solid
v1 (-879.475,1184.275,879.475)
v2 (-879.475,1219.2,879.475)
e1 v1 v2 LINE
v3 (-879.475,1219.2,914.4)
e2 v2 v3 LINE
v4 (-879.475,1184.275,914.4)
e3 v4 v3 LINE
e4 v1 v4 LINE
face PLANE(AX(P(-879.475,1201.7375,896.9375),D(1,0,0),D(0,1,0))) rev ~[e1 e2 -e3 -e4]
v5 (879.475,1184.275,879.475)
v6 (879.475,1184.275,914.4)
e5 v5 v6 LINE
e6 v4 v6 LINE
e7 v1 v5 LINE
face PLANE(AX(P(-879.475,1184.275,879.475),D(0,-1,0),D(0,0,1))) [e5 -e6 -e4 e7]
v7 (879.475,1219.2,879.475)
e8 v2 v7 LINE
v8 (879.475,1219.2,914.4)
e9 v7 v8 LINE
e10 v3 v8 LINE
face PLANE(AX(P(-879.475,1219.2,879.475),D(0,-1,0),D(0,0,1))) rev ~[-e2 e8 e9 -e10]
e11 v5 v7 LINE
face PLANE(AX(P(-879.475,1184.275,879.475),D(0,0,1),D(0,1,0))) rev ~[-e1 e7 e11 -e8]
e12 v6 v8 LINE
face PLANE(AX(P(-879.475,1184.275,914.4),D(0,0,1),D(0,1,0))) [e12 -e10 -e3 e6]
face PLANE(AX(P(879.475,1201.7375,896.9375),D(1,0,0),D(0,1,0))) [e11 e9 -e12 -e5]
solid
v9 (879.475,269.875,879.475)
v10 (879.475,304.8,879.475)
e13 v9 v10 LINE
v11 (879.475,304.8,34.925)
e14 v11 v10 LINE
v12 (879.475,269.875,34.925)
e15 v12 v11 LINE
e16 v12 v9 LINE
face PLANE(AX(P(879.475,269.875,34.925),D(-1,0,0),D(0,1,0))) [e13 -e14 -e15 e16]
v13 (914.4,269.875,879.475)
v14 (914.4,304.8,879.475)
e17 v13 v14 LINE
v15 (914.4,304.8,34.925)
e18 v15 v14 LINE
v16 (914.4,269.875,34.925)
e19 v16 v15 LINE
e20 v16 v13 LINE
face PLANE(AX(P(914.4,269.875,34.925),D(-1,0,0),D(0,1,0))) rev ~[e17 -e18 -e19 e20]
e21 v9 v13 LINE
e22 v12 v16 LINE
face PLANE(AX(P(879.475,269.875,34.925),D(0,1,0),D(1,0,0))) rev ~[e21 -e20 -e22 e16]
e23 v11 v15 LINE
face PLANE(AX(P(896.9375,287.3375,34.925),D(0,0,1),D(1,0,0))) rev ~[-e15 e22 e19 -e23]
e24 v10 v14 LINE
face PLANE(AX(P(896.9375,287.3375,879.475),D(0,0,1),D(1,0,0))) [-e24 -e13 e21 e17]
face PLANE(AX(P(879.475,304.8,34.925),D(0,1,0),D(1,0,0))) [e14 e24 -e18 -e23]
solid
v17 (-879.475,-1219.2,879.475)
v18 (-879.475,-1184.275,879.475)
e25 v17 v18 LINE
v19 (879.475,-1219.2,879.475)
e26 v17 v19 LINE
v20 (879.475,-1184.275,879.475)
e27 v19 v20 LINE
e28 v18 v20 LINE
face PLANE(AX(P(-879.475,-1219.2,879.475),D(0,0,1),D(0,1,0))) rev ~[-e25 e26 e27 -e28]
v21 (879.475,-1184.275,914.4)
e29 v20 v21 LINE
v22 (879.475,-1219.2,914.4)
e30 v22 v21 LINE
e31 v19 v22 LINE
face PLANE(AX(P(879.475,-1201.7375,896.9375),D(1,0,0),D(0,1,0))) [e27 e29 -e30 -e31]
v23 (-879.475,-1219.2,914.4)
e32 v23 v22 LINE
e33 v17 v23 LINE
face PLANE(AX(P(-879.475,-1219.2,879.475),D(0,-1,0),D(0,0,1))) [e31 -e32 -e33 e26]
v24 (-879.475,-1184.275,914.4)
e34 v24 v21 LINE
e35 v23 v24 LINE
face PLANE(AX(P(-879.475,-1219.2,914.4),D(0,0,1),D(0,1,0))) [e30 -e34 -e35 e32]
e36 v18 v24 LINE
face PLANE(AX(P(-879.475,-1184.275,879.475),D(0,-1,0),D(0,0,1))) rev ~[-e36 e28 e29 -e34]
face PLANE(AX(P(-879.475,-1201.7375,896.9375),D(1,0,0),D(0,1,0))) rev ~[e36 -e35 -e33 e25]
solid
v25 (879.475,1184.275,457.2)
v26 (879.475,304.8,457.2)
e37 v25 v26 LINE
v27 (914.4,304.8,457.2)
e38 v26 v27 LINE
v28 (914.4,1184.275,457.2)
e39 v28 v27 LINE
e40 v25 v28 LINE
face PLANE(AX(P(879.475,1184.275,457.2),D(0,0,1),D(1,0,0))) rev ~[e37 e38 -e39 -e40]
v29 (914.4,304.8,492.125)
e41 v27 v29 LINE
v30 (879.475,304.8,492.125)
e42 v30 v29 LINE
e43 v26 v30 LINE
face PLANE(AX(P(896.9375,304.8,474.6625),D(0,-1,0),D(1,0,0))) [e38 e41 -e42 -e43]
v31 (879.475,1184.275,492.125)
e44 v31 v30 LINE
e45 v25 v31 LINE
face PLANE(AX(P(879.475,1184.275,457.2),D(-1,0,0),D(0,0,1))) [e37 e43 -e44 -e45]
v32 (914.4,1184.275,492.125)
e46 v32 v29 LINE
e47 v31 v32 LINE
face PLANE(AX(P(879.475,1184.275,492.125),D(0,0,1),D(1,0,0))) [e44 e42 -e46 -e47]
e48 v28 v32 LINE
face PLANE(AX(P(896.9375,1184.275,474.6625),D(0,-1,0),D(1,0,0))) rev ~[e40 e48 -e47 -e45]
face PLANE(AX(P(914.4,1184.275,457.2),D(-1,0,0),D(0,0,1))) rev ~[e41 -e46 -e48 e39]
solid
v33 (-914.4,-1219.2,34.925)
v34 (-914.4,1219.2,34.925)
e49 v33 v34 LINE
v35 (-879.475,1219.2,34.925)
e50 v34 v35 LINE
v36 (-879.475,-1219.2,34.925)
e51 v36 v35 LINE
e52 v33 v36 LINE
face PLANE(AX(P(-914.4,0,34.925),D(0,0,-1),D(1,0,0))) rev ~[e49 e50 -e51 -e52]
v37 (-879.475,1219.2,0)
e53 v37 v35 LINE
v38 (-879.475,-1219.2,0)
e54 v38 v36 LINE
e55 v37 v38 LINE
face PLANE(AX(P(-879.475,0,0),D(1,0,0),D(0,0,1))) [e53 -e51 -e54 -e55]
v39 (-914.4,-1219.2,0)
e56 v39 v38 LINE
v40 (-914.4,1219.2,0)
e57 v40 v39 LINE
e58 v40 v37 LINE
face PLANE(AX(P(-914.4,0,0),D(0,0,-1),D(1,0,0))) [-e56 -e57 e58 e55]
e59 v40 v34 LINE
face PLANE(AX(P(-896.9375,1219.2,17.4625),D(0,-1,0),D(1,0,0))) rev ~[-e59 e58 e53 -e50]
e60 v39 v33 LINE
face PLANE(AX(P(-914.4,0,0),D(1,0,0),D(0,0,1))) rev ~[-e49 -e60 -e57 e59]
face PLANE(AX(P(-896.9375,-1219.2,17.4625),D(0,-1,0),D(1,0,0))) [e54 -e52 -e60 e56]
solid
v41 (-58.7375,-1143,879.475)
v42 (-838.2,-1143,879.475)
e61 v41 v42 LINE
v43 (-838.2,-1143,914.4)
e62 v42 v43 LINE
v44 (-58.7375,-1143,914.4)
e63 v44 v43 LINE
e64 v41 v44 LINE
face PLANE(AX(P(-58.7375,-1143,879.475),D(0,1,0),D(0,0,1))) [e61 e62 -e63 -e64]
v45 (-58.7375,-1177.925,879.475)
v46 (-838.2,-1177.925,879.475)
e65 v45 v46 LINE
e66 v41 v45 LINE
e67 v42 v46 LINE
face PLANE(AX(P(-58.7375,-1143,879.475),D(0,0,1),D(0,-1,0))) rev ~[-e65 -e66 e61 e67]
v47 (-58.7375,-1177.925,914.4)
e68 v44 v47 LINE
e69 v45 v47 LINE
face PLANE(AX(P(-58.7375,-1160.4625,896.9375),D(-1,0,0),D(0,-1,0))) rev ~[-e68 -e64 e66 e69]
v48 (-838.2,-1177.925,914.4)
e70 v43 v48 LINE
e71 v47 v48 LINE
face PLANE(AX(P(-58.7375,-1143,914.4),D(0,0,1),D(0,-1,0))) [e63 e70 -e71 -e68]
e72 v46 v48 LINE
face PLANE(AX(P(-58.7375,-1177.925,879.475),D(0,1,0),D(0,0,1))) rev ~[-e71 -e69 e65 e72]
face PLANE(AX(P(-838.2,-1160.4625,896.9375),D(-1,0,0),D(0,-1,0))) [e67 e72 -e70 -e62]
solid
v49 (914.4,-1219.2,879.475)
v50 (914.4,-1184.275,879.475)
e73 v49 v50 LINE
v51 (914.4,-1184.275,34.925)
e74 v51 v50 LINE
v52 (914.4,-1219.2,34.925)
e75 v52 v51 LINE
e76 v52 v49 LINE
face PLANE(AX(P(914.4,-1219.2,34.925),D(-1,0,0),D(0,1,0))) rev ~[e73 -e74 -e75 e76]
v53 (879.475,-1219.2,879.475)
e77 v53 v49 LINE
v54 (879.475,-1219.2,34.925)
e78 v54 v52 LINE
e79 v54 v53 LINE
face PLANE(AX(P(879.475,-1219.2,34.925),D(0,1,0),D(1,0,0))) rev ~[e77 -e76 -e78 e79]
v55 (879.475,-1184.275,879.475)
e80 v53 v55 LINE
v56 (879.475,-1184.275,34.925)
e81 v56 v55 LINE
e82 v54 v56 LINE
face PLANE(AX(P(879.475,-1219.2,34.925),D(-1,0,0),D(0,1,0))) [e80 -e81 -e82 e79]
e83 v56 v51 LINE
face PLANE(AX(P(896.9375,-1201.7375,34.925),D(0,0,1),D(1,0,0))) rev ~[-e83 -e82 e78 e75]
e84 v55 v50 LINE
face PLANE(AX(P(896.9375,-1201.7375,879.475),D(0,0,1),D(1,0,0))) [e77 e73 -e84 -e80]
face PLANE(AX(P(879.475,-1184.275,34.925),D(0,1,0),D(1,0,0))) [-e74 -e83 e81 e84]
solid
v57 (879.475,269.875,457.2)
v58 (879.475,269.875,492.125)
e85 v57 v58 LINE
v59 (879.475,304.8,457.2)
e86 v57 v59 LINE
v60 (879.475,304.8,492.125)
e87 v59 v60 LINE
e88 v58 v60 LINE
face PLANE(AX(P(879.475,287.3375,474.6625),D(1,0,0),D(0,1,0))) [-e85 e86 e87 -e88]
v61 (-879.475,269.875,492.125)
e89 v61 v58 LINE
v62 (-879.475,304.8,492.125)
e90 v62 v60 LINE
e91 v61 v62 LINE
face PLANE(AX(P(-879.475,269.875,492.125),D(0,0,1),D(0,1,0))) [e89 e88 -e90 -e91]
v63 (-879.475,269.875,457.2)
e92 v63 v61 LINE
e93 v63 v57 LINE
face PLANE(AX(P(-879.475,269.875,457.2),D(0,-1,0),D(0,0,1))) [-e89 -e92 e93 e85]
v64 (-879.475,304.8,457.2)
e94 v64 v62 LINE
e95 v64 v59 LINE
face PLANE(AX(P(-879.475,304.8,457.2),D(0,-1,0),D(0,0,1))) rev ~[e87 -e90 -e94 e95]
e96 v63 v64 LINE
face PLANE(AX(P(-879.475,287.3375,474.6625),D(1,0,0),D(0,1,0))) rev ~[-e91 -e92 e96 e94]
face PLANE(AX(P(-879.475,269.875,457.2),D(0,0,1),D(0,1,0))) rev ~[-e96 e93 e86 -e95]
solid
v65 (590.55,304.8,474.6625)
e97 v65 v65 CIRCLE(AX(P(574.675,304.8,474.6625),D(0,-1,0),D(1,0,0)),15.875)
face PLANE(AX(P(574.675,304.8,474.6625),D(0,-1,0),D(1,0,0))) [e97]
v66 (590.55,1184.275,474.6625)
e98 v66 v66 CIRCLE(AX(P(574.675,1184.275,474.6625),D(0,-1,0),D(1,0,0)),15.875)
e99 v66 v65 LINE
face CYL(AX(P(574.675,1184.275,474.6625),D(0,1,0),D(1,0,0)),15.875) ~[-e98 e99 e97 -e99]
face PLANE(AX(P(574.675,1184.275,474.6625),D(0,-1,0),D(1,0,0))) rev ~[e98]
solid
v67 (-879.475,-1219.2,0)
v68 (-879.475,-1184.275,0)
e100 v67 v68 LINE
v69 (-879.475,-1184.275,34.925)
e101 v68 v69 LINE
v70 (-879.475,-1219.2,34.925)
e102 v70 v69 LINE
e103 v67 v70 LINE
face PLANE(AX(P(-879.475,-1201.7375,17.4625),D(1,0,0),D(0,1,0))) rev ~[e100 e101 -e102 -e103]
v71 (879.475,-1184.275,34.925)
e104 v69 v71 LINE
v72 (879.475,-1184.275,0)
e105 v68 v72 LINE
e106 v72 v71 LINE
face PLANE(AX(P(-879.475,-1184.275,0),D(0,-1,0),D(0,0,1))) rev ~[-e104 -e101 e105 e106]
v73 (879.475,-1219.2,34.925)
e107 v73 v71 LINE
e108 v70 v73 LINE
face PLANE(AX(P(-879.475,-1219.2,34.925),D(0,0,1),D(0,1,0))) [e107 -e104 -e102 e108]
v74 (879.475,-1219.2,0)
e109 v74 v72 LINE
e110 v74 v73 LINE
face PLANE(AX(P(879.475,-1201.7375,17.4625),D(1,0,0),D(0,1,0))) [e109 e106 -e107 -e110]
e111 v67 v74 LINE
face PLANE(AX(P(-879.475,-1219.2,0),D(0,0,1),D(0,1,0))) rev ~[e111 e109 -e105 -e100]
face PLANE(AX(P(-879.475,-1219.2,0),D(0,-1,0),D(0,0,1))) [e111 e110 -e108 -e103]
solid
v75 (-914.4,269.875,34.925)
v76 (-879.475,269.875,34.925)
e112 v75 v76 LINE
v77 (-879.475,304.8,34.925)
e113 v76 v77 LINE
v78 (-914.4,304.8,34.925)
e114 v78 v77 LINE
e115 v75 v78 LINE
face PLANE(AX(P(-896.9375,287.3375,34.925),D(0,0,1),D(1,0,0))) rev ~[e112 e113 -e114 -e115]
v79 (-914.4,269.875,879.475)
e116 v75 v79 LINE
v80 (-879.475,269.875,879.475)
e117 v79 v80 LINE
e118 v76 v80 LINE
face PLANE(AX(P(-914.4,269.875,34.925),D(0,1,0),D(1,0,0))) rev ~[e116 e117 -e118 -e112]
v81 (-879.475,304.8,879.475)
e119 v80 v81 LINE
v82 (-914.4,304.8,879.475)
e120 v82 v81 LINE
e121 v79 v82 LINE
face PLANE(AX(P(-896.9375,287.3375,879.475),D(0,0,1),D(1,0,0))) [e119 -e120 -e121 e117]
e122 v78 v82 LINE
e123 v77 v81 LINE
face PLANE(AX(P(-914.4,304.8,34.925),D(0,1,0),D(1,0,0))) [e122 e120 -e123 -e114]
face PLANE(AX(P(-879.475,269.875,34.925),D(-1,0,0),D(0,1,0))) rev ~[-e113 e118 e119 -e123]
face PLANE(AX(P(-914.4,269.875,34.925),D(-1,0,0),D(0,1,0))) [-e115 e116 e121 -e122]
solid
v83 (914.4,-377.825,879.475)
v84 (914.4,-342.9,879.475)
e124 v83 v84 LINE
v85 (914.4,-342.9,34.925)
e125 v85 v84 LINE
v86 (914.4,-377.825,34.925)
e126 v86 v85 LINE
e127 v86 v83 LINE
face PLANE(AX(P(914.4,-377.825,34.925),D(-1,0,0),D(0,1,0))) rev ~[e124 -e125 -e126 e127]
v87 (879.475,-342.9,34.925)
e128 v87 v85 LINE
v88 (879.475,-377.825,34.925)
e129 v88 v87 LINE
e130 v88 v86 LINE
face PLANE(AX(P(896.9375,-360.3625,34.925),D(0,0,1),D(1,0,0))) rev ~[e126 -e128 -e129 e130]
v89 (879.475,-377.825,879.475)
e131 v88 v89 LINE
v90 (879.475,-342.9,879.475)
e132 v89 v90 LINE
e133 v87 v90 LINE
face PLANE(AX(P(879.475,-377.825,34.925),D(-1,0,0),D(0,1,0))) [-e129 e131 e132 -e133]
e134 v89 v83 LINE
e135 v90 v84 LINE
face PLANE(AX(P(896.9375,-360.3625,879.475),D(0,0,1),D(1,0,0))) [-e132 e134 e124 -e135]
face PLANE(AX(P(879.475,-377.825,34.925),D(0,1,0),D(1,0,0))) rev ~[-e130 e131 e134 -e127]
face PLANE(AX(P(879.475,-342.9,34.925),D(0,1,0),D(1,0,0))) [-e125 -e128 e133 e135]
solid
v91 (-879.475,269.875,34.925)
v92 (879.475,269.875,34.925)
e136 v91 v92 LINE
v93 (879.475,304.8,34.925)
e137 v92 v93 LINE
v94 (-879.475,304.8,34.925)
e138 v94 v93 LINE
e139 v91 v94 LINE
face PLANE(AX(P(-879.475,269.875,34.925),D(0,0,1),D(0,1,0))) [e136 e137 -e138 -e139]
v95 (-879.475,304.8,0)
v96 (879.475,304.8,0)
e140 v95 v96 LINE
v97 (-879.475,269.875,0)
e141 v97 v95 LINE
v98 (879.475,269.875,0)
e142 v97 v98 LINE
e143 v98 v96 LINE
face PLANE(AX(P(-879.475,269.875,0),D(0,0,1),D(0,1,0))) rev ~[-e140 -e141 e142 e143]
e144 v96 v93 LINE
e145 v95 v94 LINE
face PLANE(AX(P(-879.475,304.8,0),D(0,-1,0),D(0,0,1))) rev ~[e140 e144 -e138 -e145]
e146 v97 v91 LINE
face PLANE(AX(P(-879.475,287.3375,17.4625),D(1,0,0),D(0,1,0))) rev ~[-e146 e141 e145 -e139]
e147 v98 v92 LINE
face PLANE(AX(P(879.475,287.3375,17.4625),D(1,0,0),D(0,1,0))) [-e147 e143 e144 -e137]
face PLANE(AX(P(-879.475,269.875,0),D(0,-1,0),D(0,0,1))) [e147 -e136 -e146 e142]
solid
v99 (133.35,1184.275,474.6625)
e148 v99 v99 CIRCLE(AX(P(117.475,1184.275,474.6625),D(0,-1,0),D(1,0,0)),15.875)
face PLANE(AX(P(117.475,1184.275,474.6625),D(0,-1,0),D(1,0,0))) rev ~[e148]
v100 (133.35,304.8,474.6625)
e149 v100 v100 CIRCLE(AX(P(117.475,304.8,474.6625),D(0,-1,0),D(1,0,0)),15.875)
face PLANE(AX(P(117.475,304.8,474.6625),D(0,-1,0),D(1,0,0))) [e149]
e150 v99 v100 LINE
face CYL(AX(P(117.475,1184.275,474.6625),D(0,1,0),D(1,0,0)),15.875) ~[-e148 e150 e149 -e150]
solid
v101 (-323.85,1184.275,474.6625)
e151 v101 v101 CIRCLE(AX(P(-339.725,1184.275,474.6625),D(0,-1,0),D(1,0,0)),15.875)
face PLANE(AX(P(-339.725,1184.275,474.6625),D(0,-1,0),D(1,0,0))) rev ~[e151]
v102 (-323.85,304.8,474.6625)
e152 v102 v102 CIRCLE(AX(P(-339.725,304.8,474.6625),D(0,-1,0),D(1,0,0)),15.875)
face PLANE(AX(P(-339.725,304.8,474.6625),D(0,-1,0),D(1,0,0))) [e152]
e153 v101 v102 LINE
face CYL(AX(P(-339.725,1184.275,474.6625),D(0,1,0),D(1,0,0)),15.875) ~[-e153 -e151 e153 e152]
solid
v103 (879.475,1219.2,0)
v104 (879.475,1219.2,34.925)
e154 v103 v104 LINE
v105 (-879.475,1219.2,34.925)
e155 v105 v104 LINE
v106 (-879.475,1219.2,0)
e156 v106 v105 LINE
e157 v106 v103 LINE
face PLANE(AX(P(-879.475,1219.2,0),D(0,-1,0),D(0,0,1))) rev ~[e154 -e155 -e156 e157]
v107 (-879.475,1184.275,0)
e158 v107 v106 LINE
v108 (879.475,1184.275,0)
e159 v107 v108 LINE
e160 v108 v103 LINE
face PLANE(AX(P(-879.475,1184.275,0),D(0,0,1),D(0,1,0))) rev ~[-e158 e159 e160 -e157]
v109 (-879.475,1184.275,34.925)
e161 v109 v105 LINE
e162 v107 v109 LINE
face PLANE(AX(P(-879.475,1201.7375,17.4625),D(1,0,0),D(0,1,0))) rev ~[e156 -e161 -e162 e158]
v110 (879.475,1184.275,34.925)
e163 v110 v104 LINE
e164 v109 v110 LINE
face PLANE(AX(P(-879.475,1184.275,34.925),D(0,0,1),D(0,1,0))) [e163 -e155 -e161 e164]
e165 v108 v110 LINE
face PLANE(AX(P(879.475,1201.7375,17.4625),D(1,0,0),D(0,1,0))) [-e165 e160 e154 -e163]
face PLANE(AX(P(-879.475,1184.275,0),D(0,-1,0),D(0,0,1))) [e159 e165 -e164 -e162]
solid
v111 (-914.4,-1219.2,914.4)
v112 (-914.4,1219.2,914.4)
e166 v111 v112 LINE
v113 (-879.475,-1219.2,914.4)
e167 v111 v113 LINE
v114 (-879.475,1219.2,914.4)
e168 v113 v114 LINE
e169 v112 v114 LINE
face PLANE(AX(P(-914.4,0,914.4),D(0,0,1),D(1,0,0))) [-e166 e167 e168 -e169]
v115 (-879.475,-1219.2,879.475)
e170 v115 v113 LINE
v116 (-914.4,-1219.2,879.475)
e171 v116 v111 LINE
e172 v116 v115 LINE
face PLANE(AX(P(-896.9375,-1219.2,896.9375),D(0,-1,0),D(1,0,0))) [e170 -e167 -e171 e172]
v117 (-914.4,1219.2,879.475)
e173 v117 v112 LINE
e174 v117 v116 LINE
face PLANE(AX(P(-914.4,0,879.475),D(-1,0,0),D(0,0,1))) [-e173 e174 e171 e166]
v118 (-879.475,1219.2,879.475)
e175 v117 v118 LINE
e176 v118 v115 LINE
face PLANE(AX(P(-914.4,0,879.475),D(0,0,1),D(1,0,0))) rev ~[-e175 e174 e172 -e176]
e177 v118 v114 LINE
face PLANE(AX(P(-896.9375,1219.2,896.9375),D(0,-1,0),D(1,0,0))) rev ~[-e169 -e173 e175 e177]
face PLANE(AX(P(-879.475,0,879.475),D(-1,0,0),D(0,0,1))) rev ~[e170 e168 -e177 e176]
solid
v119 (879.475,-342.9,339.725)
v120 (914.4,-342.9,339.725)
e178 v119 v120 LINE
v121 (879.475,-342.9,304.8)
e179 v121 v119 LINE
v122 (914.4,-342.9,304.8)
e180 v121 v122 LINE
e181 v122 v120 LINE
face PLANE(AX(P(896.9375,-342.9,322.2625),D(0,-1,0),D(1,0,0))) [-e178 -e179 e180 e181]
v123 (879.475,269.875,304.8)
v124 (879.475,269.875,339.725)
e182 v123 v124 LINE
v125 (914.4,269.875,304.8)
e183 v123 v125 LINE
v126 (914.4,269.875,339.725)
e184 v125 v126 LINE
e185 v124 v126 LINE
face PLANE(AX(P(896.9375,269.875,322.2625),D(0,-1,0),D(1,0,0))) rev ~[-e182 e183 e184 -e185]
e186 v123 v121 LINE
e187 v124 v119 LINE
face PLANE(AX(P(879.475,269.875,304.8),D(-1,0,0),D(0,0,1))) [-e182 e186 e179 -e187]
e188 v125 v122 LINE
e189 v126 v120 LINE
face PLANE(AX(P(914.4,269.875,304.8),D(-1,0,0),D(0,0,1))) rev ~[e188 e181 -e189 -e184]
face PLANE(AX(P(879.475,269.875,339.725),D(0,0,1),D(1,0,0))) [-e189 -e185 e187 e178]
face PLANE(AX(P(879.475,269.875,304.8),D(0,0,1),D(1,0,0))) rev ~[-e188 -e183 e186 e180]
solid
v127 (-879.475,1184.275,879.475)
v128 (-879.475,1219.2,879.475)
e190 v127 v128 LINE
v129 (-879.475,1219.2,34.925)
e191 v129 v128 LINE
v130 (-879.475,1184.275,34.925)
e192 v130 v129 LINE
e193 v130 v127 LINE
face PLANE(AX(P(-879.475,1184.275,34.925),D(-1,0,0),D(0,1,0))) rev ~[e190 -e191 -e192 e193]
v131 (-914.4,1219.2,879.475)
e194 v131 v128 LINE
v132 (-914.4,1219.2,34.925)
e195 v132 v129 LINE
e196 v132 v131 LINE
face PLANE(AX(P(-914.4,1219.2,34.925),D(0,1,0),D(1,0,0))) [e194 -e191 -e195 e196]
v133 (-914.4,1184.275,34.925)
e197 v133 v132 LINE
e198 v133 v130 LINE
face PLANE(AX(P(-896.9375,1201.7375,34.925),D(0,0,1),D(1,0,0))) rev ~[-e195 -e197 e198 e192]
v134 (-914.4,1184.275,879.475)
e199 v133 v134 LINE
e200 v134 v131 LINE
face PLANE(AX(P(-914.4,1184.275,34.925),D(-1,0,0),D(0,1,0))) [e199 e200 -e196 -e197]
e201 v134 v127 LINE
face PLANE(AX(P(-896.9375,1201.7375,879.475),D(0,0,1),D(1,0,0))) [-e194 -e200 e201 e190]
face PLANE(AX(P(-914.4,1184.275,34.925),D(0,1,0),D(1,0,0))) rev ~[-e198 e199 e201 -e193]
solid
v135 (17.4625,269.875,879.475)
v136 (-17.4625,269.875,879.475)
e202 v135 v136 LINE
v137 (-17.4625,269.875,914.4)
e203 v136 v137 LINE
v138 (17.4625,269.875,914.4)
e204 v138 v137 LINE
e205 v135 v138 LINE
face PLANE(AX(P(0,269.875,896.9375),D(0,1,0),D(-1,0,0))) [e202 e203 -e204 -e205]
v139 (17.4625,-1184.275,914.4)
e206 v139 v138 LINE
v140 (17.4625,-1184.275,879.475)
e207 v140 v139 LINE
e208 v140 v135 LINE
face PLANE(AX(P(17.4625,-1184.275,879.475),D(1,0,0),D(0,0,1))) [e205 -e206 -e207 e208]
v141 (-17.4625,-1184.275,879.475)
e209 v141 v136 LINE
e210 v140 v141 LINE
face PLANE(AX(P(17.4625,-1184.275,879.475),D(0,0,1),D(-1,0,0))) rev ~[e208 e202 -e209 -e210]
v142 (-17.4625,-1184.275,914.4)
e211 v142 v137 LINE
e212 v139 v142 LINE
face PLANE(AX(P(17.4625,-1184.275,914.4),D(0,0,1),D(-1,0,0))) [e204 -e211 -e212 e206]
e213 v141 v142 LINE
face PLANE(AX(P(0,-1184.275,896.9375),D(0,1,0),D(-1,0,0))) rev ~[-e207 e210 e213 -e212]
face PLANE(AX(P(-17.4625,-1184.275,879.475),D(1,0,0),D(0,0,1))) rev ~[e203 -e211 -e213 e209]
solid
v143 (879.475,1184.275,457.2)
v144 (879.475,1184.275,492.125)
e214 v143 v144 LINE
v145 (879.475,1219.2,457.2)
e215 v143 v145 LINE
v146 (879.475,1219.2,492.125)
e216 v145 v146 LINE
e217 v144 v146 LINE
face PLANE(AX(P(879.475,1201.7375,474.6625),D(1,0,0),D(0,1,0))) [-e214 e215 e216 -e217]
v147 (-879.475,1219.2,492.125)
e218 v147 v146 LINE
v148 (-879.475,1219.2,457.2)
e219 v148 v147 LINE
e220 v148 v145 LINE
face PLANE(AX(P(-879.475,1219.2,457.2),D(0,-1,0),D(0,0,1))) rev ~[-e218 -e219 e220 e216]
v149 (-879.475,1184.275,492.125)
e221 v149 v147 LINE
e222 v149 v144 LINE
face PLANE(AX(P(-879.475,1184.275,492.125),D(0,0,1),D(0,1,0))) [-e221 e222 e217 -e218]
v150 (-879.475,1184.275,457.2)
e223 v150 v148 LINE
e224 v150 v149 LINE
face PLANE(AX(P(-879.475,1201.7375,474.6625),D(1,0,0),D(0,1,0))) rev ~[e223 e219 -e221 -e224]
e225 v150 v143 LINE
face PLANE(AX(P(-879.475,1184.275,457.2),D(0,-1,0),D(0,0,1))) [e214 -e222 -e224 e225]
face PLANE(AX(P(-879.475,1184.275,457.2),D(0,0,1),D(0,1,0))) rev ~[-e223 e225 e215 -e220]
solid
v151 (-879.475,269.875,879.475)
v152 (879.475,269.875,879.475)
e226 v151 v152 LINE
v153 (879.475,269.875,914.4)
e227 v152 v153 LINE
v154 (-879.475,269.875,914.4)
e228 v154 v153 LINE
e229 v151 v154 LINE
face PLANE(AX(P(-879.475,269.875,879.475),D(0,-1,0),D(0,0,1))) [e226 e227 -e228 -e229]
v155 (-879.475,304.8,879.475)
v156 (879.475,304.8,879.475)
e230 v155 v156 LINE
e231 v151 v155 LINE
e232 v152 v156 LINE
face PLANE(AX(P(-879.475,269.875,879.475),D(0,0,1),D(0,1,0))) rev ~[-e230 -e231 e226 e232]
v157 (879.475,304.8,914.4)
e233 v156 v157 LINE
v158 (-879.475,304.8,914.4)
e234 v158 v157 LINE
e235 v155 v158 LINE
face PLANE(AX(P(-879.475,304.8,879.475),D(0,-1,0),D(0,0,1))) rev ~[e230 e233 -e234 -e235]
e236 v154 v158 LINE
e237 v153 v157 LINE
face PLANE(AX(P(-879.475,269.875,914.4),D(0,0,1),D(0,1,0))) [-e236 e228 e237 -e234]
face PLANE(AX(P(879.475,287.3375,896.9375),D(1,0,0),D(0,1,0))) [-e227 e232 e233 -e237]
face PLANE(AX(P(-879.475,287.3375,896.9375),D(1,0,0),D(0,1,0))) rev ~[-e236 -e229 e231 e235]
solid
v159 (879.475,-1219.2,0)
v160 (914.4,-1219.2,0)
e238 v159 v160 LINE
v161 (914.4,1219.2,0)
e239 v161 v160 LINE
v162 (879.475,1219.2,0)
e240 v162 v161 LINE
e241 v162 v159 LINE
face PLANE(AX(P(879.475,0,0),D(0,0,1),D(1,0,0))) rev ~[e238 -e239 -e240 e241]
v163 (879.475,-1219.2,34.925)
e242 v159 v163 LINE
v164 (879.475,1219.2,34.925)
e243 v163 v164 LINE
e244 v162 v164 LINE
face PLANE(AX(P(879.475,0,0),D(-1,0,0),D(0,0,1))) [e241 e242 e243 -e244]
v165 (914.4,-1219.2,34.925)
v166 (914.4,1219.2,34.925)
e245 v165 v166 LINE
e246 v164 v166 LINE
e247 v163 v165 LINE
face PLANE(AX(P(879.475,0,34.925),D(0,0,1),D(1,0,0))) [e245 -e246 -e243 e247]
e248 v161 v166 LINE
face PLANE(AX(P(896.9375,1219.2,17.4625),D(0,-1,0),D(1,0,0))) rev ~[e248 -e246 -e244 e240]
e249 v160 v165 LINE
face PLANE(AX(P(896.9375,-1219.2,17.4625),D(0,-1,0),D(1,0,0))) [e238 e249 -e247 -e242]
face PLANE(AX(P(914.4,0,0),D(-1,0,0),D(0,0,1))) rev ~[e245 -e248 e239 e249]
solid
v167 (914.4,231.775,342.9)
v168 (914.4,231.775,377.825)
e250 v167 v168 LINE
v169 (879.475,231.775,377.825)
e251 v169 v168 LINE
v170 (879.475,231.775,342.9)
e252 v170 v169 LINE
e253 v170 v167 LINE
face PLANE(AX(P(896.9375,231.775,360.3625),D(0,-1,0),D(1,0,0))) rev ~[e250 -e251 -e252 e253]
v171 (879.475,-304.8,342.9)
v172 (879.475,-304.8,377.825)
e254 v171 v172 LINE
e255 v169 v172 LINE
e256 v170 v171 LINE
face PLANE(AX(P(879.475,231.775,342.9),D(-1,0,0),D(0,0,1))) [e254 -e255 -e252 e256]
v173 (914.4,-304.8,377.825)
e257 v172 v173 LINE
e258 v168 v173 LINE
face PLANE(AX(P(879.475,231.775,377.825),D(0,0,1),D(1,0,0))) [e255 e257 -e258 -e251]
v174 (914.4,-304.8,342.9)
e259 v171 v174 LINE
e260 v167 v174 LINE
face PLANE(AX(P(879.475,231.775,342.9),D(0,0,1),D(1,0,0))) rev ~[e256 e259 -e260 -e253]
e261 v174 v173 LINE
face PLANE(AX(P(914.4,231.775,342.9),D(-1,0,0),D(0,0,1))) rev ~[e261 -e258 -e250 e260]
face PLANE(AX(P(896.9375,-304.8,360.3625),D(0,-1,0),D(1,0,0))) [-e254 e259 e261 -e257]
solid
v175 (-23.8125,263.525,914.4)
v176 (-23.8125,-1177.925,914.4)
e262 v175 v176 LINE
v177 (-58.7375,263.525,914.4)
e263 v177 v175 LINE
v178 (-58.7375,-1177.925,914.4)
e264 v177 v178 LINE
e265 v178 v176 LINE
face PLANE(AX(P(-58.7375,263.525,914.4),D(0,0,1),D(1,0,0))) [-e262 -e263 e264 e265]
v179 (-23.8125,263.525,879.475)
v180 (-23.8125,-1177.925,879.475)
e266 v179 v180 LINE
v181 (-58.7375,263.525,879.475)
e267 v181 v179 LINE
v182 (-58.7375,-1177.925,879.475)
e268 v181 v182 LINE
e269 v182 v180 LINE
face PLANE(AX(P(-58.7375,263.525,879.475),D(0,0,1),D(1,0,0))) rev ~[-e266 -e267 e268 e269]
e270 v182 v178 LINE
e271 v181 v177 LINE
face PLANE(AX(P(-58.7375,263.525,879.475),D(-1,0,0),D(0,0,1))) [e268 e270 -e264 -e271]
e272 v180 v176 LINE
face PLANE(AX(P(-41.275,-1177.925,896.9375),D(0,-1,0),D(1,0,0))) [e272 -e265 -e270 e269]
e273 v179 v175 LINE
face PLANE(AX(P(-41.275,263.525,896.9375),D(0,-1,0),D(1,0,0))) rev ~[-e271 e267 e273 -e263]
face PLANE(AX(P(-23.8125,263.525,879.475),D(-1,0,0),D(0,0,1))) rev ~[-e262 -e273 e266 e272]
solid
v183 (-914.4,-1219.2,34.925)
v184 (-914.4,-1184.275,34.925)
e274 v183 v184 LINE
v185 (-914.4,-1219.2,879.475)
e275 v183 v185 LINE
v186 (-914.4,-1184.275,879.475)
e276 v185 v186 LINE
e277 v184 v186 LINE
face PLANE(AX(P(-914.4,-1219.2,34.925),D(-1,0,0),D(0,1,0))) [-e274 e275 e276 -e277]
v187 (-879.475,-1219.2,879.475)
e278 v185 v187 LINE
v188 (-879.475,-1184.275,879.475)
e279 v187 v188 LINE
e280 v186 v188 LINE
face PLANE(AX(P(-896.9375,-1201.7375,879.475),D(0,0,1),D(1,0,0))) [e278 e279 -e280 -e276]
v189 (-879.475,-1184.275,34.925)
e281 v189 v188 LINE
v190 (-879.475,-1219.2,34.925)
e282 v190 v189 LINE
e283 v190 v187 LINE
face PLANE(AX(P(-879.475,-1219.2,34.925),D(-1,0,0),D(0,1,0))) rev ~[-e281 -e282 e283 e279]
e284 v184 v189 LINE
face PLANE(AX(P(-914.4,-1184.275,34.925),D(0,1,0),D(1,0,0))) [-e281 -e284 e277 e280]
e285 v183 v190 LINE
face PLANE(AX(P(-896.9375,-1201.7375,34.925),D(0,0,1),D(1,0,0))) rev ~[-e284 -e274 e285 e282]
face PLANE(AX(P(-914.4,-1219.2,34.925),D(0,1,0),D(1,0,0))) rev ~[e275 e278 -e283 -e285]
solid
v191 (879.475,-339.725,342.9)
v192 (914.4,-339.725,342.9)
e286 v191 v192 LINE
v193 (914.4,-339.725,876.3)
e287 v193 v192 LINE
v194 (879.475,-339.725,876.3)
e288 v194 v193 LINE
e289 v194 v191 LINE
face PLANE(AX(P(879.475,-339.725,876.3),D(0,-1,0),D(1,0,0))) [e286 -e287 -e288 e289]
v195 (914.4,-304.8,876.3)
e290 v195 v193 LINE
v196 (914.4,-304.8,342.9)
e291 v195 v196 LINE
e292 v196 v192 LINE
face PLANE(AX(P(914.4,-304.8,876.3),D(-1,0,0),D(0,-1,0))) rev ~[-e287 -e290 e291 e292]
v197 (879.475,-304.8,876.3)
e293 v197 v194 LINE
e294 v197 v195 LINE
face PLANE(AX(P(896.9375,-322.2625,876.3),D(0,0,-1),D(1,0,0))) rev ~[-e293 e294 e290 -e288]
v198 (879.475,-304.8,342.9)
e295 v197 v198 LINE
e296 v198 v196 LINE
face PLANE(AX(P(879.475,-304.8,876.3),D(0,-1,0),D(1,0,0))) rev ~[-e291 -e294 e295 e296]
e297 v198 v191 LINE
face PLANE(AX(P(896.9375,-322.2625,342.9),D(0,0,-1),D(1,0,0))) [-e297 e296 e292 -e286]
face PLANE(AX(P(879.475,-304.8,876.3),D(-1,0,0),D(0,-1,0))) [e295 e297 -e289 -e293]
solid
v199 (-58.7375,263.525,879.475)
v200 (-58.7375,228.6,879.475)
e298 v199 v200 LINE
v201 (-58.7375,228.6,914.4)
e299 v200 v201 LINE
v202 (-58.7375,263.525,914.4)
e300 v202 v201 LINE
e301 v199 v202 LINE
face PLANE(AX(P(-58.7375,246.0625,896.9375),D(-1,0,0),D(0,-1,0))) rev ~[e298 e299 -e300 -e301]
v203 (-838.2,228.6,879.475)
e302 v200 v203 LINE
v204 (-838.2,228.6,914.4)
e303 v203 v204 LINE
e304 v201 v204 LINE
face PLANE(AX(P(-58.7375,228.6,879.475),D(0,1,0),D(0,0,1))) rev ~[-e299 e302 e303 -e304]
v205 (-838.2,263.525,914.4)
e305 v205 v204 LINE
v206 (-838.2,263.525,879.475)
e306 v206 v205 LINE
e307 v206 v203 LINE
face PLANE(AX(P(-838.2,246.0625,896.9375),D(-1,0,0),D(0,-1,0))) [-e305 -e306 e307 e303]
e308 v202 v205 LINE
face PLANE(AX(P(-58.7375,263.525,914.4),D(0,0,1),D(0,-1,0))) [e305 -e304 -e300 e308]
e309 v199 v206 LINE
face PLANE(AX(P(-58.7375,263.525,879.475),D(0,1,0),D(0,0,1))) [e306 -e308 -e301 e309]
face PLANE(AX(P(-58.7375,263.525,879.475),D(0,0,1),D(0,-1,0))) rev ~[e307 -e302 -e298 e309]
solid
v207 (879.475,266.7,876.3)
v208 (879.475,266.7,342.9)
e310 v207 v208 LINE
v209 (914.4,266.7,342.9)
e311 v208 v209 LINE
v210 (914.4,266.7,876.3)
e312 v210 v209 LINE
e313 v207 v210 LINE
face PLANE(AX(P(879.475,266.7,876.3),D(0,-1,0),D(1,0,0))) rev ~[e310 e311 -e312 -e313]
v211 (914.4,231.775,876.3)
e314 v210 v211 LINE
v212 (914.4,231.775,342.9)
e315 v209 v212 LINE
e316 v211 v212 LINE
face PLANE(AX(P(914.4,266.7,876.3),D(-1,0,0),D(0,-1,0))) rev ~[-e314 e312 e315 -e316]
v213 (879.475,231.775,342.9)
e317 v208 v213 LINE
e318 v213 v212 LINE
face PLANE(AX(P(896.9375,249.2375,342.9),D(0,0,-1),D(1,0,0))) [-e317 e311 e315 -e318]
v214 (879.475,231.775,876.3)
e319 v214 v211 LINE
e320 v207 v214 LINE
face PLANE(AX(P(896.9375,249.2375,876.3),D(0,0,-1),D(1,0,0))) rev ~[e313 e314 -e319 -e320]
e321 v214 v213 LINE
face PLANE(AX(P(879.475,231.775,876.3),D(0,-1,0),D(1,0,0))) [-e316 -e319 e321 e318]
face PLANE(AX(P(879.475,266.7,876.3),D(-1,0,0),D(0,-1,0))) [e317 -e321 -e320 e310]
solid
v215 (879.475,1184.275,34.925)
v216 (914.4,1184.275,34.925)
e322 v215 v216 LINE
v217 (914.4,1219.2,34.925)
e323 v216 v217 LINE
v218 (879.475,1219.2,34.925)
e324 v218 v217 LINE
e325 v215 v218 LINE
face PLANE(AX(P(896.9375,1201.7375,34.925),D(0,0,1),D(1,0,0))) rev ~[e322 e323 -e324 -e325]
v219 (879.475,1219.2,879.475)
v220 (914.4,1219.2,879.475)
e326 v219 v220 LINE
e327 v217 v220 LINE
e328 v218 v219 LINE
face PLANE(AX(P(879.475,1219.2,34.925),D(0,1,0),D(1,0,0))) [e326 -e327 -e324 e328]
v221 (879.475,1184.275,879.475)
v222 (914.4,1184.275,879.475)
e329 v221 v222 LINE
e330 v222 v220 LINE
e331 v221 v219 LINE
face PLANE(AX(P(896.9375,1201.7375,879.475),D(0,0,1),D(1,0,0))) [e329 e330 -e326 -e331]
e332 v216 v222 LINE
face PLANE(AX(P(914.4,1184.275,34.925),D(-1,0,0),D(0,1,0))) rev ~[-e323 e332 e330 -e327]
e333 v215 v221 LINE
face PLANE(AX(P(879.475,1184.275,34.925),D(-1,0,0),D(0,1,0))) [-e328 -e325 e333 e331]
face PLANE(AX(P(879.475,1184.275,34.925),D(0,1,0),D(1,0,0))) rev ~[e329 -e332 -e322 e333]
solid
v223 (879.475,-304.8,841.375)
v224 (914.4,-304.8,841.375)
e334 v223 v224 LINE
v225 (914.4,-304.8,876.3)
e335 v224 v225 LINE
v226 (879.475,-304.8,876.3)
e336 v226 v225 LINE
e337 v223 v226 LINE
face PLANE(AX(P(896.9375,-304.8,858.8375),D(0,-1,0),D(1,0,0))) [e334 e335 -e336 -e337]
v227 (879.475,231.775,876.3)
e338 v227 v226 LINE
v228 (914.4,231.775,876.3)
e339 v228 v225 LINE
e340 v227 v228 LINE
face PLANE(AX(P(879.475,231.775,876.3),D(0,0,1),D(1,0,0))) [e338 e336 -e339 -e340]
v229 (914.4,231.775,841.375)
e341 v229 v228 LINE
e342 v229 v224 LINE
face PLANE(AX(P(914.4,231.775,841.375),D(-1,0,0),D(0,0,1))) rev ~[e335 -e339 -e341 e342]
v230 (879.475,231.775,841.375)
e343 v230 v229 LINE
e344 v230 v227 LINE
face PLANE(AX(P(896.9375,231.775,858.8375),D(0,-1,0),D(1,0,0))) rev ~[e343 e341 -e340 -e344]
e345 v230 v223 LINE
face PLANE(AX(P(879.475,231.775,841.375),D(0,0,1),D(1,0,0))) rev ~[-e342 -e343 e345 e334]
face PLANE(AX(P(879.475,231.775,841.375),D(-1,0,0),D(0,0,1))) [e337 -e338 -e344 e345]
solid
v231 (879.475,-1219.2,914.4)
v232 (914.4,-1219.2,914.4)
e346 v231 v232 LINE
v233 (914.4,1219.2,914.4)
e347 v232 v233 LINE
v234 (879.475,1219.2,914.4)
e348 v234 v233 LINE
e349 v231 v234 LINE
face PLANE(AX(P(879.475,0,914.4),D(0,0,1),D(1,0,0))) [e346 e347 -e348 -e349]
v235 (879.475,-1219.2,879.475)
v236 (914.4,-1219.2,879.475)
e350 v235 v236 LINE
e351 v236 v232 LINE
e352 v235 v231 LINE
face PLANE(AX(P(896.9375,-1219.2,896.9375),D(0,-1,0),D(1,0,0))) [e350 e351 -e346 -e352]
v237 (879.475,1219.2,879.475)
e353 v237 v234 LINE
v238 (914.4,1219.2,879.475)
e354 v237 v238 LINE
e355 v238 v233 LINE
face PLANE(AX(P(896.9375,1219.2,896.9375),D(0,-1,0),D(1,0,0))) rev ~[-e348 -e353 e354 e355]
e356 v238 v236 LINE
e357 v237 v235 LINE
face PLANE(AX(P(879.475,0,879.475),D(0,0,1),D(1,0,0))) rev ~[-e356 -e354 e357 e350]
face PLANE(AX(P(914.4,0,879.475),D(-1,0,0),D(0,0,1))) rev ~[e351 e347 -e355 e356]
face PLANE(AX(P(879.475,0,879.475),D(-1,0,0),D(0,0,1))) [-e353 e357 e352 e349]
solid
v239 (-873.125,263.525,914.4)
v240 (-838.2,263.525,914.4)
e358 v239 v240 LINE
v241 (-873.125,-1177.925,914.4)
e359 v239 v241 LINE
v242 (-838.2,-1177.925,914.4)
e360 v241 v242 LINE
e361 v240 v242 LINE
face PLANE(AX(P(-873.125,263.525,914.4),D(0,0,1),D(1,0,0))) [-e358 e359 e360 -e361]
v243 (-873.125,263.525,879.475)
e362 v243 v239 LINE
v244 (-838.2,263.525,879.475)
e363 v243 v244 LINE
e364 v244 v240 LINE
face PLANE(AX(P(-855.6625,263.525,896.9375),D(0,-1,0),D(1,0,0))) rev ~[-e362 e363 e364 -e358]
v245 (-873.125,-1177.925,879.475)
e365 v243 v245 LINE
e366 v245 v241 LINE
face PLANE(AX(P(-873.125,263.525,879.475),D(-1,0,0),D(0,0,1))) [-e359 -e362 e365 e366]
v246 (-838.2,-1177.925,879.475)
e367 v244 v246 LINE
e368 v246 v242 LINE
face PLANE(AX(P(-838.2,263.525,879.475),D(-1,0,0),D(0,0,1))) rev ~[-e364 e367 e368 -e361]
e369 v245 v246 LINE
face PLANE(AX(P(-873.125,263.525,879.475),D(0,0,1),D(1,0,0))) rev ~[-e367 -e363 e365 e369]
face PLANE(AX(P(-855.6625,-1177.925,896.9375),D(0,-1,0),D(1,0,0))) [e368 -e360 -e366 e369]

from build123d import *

# Parameters (mm, degrees)
F2_W      = 34.925
F2_H      = 34.925
F3_DEPTH  = 1219.2
F4_W      = 34.925
F4_H      = 34.925
F5_DEPTH  = 844.55
F6_W      = 34.925
F6_H      = 34.925
F7_DEPTH  = 1758.95
F8_R      = 15.875
F9_DEPTH  = 879.475
F10_W     = 34.925
F10_H     = 34.925
F11_DEPTH = 879.475
F12_W     = 34.925
F12_H     = 34.925
F13_DEPTH = 1454.15
F16_W     = 34.925
F16_H     = 34.925
F17_DEPTH = 1441.45
F18_W     = 34.925
F18_H     = 34.925
F19_DEPTH = 779.4625
F20_W     = 34.925
F20_H     = 34.925
F21_DEPTH = 844.55
F22_W     = 34.925
F22_H     = 34.925
F23_DEPTH = 612.775
F26_W     = 34.925
F26_H     = 34.925
F27_DEPTH = 533.4
F28_W     = 34.925
F28_H     = 34.925
F29_DEPTH = 536.575


with BuildPart() as f3:
    # F2 (on Front) → F3 (new body, symmetric)
    with BuildSketch(Plane.XZ):
        with Locations((896.9375, 17.4625)):
            Rectangle(F2_W, F2_H)
        with Locations((896.9375, 896.9375)):
            Rectangle(F2_W, F2_H)
        with Locations((-896.9375, 896.9375)):
            Rectangle(F2_W, F2_H)
        with Locations((-896.9375, 17.4625)):
            Rectangle(F2_W, F2_H)
    extrude(amount=F3_DEPTH, both=True)


with BuildPart() as f5:
    # F4 (on face) → F5 (new body, through all)
    with BuildSketch(Plane.XY.offset(34.925)):
        with Locations((-896.9375, -1201.7375)):
            Rectangle(F4_W, F4_H)
        with Locations((-896.9375, 1201.7375)):
            Rectangle(F4_W, F4_H)
        with Locations((896.9375, 1201.7375)):
            Rectangle(F4_W, F4_H)
        with Locations((896.9375, -1201.7375)):
            Rectangle(F4_W, F4_H)
        with Locations((-896.9375, 287.3375)):
            Rectangle(F4_W, F4_H)
        with Locations((896.9375, 287.3375)):
            Rectangle(F4_W, F4_H)
    extrude(amount=F5_DEPTH)


with BuildPart() as f7:
    # F6 (on face) → F7 (new body, through all)
    with BuildSketch(Plane.YZ.offset(-879.475)):
        with Locations((287.3375, 896.9375)):
            Rectangle(F6_W, F6_H)
        with Locations((-1201.7375, 896.9375)):
            Rectangle(F6_W, F6_H)
        with Locations((1201.7375, 896.9375)):
            Rectangle(F6_W, F6_H)
        with Locations((1201.7375, 17.4625)):
            Rectangle(F6_W, F6_H)
        with Locations((-1201.7375, 17.4625)):
            Rectangle(F6_W, F6_H)
        with Locations((287.3375, 17.4625)):
            Rectangle(F6_W, F6_H)
        with Locations((287.3375, 474.6625)):
            Rectangle(F6_W, F6_H)
        with Locations((1201.7375, 474.6625)):
            Rectangle(F6_W, F6_H)
    extrude(amount=F7_DEPTH)


with BuildPart() as f9:
    # F8 (on face) → F9 (new body, through all)
    with BuildSketch(Plane.XZ.offset(-1184.275)):
        with Locations((574.675, 474.6625)):
            Circle(F8_R)
        with Locations((117.475, 474.6625)):
            Circle(F8_R)
        with Locations((-339.725, 474.6625)):
            Circle(F8_R)
    extrude(amount=F9_DEPTH)


with BuildPart() as f11:
    # F10 (on face) → F11 (new body, through all)
    with BuildSketch(Plane.XZ.offset(-1184.275)):
        with Locations((896.9375, 474.6625)):
            Rectangle(F10_W, F10_H)
    extrude(amount=F11_DEPTH)


with BuildPart() as f13:
    # F12 (on face) → F13 (new body, through all)
    with BuildSketch(Plane(origin=(0, -1184.275, 0), x_dir=(-1, 0, 0), z_dir=(0, 1, 0))):
        with Locations((0, 896.9375)):
            Rectangle(F12_W, F12_H)
    extrude(amount=F13_DEPTH)


with BuildPart() as f17:
    # F16 (on face) → F17 (new body)
    with BuildSketch(Plane.XZ.offset(-263.525)):
        with Locations((-41.275, 896.9375)):
            Rectangle(F16_W, F16_H)
        with Locations((-855.6625, 896.9375)):
            Rectangle(F16_W, F16_H)
    extrude(amount=F17_DEPTH)


with BuildPart() as f19:
    # F18 (on face) → F19 (new body, through all)
    with BuildSketch(Plane(origin=(-58.7375, 0, 0), x_dir=(0, -1, 0), z_dir=(-1, 0, 0))):
        with Locations((-246.0625, 896.9375)):
            Rectangle(F18_W, F18_H)
        with Locations((1160.4625, 896.9375)):
            Rectangle(F18_W, F18_H)
    extrude(amount=F19_DEPTH)


with BuildPart() as f21:
    # F20 (on face) → F21 (new body, through all)
    with BuildSketch(Plane.XY.offset(34.925)):
        with Locations((896.9375, -360.3625)):
            Rectangle(F20_W, F20_H)
    extrude(amount=F21_DEPTH)


with BuildPart() as f23:
    # F22 (on face) → F23 (new body, through all)
    with BuildSketch(Plane.XZ.offset(-269.875)):
        with Locations((896.9375, 322.2625)):
            Rectangle(F22_W, F22_H)
    extrude(amount=F23_DEPTH)


with BuildPart() as f27:
    # F26 (on face) → F27 (new body)
    with BuildSketch(Plane(origin=(0, 0, 876.3), x_dir=(1, 0, 0), z_dir=(0, 0, -1))):
        with Locations((896.9375, 322.2625)):
            Rectangle(F26_W, F26_H)
        with Locations((896.9375, -249.2375)):
            Rectangle(F26_W, F26_H)
    extrude(amount=F27_DEPTH)


with BuildPart() as f29:
    # F28 (on face) → F29 (new body, through all)
    with BuildSketch(Plane.XZ.offset(-231.775)):
        with Locations((896.9375, 858.8375)):
            Rectangle(F28_W, F28_H)
        with Locations((896.9375, 360.3625)):
            Rectangle(F28_W, F28_H)
    extrude(amount=F29_DEPTH)


solid = Compound([f3.part, f5.part, f7.part, f9.part, f11.part, f13.part, f17.part, f19.part, f21.part, f23.part, f27.part, f29.part])
